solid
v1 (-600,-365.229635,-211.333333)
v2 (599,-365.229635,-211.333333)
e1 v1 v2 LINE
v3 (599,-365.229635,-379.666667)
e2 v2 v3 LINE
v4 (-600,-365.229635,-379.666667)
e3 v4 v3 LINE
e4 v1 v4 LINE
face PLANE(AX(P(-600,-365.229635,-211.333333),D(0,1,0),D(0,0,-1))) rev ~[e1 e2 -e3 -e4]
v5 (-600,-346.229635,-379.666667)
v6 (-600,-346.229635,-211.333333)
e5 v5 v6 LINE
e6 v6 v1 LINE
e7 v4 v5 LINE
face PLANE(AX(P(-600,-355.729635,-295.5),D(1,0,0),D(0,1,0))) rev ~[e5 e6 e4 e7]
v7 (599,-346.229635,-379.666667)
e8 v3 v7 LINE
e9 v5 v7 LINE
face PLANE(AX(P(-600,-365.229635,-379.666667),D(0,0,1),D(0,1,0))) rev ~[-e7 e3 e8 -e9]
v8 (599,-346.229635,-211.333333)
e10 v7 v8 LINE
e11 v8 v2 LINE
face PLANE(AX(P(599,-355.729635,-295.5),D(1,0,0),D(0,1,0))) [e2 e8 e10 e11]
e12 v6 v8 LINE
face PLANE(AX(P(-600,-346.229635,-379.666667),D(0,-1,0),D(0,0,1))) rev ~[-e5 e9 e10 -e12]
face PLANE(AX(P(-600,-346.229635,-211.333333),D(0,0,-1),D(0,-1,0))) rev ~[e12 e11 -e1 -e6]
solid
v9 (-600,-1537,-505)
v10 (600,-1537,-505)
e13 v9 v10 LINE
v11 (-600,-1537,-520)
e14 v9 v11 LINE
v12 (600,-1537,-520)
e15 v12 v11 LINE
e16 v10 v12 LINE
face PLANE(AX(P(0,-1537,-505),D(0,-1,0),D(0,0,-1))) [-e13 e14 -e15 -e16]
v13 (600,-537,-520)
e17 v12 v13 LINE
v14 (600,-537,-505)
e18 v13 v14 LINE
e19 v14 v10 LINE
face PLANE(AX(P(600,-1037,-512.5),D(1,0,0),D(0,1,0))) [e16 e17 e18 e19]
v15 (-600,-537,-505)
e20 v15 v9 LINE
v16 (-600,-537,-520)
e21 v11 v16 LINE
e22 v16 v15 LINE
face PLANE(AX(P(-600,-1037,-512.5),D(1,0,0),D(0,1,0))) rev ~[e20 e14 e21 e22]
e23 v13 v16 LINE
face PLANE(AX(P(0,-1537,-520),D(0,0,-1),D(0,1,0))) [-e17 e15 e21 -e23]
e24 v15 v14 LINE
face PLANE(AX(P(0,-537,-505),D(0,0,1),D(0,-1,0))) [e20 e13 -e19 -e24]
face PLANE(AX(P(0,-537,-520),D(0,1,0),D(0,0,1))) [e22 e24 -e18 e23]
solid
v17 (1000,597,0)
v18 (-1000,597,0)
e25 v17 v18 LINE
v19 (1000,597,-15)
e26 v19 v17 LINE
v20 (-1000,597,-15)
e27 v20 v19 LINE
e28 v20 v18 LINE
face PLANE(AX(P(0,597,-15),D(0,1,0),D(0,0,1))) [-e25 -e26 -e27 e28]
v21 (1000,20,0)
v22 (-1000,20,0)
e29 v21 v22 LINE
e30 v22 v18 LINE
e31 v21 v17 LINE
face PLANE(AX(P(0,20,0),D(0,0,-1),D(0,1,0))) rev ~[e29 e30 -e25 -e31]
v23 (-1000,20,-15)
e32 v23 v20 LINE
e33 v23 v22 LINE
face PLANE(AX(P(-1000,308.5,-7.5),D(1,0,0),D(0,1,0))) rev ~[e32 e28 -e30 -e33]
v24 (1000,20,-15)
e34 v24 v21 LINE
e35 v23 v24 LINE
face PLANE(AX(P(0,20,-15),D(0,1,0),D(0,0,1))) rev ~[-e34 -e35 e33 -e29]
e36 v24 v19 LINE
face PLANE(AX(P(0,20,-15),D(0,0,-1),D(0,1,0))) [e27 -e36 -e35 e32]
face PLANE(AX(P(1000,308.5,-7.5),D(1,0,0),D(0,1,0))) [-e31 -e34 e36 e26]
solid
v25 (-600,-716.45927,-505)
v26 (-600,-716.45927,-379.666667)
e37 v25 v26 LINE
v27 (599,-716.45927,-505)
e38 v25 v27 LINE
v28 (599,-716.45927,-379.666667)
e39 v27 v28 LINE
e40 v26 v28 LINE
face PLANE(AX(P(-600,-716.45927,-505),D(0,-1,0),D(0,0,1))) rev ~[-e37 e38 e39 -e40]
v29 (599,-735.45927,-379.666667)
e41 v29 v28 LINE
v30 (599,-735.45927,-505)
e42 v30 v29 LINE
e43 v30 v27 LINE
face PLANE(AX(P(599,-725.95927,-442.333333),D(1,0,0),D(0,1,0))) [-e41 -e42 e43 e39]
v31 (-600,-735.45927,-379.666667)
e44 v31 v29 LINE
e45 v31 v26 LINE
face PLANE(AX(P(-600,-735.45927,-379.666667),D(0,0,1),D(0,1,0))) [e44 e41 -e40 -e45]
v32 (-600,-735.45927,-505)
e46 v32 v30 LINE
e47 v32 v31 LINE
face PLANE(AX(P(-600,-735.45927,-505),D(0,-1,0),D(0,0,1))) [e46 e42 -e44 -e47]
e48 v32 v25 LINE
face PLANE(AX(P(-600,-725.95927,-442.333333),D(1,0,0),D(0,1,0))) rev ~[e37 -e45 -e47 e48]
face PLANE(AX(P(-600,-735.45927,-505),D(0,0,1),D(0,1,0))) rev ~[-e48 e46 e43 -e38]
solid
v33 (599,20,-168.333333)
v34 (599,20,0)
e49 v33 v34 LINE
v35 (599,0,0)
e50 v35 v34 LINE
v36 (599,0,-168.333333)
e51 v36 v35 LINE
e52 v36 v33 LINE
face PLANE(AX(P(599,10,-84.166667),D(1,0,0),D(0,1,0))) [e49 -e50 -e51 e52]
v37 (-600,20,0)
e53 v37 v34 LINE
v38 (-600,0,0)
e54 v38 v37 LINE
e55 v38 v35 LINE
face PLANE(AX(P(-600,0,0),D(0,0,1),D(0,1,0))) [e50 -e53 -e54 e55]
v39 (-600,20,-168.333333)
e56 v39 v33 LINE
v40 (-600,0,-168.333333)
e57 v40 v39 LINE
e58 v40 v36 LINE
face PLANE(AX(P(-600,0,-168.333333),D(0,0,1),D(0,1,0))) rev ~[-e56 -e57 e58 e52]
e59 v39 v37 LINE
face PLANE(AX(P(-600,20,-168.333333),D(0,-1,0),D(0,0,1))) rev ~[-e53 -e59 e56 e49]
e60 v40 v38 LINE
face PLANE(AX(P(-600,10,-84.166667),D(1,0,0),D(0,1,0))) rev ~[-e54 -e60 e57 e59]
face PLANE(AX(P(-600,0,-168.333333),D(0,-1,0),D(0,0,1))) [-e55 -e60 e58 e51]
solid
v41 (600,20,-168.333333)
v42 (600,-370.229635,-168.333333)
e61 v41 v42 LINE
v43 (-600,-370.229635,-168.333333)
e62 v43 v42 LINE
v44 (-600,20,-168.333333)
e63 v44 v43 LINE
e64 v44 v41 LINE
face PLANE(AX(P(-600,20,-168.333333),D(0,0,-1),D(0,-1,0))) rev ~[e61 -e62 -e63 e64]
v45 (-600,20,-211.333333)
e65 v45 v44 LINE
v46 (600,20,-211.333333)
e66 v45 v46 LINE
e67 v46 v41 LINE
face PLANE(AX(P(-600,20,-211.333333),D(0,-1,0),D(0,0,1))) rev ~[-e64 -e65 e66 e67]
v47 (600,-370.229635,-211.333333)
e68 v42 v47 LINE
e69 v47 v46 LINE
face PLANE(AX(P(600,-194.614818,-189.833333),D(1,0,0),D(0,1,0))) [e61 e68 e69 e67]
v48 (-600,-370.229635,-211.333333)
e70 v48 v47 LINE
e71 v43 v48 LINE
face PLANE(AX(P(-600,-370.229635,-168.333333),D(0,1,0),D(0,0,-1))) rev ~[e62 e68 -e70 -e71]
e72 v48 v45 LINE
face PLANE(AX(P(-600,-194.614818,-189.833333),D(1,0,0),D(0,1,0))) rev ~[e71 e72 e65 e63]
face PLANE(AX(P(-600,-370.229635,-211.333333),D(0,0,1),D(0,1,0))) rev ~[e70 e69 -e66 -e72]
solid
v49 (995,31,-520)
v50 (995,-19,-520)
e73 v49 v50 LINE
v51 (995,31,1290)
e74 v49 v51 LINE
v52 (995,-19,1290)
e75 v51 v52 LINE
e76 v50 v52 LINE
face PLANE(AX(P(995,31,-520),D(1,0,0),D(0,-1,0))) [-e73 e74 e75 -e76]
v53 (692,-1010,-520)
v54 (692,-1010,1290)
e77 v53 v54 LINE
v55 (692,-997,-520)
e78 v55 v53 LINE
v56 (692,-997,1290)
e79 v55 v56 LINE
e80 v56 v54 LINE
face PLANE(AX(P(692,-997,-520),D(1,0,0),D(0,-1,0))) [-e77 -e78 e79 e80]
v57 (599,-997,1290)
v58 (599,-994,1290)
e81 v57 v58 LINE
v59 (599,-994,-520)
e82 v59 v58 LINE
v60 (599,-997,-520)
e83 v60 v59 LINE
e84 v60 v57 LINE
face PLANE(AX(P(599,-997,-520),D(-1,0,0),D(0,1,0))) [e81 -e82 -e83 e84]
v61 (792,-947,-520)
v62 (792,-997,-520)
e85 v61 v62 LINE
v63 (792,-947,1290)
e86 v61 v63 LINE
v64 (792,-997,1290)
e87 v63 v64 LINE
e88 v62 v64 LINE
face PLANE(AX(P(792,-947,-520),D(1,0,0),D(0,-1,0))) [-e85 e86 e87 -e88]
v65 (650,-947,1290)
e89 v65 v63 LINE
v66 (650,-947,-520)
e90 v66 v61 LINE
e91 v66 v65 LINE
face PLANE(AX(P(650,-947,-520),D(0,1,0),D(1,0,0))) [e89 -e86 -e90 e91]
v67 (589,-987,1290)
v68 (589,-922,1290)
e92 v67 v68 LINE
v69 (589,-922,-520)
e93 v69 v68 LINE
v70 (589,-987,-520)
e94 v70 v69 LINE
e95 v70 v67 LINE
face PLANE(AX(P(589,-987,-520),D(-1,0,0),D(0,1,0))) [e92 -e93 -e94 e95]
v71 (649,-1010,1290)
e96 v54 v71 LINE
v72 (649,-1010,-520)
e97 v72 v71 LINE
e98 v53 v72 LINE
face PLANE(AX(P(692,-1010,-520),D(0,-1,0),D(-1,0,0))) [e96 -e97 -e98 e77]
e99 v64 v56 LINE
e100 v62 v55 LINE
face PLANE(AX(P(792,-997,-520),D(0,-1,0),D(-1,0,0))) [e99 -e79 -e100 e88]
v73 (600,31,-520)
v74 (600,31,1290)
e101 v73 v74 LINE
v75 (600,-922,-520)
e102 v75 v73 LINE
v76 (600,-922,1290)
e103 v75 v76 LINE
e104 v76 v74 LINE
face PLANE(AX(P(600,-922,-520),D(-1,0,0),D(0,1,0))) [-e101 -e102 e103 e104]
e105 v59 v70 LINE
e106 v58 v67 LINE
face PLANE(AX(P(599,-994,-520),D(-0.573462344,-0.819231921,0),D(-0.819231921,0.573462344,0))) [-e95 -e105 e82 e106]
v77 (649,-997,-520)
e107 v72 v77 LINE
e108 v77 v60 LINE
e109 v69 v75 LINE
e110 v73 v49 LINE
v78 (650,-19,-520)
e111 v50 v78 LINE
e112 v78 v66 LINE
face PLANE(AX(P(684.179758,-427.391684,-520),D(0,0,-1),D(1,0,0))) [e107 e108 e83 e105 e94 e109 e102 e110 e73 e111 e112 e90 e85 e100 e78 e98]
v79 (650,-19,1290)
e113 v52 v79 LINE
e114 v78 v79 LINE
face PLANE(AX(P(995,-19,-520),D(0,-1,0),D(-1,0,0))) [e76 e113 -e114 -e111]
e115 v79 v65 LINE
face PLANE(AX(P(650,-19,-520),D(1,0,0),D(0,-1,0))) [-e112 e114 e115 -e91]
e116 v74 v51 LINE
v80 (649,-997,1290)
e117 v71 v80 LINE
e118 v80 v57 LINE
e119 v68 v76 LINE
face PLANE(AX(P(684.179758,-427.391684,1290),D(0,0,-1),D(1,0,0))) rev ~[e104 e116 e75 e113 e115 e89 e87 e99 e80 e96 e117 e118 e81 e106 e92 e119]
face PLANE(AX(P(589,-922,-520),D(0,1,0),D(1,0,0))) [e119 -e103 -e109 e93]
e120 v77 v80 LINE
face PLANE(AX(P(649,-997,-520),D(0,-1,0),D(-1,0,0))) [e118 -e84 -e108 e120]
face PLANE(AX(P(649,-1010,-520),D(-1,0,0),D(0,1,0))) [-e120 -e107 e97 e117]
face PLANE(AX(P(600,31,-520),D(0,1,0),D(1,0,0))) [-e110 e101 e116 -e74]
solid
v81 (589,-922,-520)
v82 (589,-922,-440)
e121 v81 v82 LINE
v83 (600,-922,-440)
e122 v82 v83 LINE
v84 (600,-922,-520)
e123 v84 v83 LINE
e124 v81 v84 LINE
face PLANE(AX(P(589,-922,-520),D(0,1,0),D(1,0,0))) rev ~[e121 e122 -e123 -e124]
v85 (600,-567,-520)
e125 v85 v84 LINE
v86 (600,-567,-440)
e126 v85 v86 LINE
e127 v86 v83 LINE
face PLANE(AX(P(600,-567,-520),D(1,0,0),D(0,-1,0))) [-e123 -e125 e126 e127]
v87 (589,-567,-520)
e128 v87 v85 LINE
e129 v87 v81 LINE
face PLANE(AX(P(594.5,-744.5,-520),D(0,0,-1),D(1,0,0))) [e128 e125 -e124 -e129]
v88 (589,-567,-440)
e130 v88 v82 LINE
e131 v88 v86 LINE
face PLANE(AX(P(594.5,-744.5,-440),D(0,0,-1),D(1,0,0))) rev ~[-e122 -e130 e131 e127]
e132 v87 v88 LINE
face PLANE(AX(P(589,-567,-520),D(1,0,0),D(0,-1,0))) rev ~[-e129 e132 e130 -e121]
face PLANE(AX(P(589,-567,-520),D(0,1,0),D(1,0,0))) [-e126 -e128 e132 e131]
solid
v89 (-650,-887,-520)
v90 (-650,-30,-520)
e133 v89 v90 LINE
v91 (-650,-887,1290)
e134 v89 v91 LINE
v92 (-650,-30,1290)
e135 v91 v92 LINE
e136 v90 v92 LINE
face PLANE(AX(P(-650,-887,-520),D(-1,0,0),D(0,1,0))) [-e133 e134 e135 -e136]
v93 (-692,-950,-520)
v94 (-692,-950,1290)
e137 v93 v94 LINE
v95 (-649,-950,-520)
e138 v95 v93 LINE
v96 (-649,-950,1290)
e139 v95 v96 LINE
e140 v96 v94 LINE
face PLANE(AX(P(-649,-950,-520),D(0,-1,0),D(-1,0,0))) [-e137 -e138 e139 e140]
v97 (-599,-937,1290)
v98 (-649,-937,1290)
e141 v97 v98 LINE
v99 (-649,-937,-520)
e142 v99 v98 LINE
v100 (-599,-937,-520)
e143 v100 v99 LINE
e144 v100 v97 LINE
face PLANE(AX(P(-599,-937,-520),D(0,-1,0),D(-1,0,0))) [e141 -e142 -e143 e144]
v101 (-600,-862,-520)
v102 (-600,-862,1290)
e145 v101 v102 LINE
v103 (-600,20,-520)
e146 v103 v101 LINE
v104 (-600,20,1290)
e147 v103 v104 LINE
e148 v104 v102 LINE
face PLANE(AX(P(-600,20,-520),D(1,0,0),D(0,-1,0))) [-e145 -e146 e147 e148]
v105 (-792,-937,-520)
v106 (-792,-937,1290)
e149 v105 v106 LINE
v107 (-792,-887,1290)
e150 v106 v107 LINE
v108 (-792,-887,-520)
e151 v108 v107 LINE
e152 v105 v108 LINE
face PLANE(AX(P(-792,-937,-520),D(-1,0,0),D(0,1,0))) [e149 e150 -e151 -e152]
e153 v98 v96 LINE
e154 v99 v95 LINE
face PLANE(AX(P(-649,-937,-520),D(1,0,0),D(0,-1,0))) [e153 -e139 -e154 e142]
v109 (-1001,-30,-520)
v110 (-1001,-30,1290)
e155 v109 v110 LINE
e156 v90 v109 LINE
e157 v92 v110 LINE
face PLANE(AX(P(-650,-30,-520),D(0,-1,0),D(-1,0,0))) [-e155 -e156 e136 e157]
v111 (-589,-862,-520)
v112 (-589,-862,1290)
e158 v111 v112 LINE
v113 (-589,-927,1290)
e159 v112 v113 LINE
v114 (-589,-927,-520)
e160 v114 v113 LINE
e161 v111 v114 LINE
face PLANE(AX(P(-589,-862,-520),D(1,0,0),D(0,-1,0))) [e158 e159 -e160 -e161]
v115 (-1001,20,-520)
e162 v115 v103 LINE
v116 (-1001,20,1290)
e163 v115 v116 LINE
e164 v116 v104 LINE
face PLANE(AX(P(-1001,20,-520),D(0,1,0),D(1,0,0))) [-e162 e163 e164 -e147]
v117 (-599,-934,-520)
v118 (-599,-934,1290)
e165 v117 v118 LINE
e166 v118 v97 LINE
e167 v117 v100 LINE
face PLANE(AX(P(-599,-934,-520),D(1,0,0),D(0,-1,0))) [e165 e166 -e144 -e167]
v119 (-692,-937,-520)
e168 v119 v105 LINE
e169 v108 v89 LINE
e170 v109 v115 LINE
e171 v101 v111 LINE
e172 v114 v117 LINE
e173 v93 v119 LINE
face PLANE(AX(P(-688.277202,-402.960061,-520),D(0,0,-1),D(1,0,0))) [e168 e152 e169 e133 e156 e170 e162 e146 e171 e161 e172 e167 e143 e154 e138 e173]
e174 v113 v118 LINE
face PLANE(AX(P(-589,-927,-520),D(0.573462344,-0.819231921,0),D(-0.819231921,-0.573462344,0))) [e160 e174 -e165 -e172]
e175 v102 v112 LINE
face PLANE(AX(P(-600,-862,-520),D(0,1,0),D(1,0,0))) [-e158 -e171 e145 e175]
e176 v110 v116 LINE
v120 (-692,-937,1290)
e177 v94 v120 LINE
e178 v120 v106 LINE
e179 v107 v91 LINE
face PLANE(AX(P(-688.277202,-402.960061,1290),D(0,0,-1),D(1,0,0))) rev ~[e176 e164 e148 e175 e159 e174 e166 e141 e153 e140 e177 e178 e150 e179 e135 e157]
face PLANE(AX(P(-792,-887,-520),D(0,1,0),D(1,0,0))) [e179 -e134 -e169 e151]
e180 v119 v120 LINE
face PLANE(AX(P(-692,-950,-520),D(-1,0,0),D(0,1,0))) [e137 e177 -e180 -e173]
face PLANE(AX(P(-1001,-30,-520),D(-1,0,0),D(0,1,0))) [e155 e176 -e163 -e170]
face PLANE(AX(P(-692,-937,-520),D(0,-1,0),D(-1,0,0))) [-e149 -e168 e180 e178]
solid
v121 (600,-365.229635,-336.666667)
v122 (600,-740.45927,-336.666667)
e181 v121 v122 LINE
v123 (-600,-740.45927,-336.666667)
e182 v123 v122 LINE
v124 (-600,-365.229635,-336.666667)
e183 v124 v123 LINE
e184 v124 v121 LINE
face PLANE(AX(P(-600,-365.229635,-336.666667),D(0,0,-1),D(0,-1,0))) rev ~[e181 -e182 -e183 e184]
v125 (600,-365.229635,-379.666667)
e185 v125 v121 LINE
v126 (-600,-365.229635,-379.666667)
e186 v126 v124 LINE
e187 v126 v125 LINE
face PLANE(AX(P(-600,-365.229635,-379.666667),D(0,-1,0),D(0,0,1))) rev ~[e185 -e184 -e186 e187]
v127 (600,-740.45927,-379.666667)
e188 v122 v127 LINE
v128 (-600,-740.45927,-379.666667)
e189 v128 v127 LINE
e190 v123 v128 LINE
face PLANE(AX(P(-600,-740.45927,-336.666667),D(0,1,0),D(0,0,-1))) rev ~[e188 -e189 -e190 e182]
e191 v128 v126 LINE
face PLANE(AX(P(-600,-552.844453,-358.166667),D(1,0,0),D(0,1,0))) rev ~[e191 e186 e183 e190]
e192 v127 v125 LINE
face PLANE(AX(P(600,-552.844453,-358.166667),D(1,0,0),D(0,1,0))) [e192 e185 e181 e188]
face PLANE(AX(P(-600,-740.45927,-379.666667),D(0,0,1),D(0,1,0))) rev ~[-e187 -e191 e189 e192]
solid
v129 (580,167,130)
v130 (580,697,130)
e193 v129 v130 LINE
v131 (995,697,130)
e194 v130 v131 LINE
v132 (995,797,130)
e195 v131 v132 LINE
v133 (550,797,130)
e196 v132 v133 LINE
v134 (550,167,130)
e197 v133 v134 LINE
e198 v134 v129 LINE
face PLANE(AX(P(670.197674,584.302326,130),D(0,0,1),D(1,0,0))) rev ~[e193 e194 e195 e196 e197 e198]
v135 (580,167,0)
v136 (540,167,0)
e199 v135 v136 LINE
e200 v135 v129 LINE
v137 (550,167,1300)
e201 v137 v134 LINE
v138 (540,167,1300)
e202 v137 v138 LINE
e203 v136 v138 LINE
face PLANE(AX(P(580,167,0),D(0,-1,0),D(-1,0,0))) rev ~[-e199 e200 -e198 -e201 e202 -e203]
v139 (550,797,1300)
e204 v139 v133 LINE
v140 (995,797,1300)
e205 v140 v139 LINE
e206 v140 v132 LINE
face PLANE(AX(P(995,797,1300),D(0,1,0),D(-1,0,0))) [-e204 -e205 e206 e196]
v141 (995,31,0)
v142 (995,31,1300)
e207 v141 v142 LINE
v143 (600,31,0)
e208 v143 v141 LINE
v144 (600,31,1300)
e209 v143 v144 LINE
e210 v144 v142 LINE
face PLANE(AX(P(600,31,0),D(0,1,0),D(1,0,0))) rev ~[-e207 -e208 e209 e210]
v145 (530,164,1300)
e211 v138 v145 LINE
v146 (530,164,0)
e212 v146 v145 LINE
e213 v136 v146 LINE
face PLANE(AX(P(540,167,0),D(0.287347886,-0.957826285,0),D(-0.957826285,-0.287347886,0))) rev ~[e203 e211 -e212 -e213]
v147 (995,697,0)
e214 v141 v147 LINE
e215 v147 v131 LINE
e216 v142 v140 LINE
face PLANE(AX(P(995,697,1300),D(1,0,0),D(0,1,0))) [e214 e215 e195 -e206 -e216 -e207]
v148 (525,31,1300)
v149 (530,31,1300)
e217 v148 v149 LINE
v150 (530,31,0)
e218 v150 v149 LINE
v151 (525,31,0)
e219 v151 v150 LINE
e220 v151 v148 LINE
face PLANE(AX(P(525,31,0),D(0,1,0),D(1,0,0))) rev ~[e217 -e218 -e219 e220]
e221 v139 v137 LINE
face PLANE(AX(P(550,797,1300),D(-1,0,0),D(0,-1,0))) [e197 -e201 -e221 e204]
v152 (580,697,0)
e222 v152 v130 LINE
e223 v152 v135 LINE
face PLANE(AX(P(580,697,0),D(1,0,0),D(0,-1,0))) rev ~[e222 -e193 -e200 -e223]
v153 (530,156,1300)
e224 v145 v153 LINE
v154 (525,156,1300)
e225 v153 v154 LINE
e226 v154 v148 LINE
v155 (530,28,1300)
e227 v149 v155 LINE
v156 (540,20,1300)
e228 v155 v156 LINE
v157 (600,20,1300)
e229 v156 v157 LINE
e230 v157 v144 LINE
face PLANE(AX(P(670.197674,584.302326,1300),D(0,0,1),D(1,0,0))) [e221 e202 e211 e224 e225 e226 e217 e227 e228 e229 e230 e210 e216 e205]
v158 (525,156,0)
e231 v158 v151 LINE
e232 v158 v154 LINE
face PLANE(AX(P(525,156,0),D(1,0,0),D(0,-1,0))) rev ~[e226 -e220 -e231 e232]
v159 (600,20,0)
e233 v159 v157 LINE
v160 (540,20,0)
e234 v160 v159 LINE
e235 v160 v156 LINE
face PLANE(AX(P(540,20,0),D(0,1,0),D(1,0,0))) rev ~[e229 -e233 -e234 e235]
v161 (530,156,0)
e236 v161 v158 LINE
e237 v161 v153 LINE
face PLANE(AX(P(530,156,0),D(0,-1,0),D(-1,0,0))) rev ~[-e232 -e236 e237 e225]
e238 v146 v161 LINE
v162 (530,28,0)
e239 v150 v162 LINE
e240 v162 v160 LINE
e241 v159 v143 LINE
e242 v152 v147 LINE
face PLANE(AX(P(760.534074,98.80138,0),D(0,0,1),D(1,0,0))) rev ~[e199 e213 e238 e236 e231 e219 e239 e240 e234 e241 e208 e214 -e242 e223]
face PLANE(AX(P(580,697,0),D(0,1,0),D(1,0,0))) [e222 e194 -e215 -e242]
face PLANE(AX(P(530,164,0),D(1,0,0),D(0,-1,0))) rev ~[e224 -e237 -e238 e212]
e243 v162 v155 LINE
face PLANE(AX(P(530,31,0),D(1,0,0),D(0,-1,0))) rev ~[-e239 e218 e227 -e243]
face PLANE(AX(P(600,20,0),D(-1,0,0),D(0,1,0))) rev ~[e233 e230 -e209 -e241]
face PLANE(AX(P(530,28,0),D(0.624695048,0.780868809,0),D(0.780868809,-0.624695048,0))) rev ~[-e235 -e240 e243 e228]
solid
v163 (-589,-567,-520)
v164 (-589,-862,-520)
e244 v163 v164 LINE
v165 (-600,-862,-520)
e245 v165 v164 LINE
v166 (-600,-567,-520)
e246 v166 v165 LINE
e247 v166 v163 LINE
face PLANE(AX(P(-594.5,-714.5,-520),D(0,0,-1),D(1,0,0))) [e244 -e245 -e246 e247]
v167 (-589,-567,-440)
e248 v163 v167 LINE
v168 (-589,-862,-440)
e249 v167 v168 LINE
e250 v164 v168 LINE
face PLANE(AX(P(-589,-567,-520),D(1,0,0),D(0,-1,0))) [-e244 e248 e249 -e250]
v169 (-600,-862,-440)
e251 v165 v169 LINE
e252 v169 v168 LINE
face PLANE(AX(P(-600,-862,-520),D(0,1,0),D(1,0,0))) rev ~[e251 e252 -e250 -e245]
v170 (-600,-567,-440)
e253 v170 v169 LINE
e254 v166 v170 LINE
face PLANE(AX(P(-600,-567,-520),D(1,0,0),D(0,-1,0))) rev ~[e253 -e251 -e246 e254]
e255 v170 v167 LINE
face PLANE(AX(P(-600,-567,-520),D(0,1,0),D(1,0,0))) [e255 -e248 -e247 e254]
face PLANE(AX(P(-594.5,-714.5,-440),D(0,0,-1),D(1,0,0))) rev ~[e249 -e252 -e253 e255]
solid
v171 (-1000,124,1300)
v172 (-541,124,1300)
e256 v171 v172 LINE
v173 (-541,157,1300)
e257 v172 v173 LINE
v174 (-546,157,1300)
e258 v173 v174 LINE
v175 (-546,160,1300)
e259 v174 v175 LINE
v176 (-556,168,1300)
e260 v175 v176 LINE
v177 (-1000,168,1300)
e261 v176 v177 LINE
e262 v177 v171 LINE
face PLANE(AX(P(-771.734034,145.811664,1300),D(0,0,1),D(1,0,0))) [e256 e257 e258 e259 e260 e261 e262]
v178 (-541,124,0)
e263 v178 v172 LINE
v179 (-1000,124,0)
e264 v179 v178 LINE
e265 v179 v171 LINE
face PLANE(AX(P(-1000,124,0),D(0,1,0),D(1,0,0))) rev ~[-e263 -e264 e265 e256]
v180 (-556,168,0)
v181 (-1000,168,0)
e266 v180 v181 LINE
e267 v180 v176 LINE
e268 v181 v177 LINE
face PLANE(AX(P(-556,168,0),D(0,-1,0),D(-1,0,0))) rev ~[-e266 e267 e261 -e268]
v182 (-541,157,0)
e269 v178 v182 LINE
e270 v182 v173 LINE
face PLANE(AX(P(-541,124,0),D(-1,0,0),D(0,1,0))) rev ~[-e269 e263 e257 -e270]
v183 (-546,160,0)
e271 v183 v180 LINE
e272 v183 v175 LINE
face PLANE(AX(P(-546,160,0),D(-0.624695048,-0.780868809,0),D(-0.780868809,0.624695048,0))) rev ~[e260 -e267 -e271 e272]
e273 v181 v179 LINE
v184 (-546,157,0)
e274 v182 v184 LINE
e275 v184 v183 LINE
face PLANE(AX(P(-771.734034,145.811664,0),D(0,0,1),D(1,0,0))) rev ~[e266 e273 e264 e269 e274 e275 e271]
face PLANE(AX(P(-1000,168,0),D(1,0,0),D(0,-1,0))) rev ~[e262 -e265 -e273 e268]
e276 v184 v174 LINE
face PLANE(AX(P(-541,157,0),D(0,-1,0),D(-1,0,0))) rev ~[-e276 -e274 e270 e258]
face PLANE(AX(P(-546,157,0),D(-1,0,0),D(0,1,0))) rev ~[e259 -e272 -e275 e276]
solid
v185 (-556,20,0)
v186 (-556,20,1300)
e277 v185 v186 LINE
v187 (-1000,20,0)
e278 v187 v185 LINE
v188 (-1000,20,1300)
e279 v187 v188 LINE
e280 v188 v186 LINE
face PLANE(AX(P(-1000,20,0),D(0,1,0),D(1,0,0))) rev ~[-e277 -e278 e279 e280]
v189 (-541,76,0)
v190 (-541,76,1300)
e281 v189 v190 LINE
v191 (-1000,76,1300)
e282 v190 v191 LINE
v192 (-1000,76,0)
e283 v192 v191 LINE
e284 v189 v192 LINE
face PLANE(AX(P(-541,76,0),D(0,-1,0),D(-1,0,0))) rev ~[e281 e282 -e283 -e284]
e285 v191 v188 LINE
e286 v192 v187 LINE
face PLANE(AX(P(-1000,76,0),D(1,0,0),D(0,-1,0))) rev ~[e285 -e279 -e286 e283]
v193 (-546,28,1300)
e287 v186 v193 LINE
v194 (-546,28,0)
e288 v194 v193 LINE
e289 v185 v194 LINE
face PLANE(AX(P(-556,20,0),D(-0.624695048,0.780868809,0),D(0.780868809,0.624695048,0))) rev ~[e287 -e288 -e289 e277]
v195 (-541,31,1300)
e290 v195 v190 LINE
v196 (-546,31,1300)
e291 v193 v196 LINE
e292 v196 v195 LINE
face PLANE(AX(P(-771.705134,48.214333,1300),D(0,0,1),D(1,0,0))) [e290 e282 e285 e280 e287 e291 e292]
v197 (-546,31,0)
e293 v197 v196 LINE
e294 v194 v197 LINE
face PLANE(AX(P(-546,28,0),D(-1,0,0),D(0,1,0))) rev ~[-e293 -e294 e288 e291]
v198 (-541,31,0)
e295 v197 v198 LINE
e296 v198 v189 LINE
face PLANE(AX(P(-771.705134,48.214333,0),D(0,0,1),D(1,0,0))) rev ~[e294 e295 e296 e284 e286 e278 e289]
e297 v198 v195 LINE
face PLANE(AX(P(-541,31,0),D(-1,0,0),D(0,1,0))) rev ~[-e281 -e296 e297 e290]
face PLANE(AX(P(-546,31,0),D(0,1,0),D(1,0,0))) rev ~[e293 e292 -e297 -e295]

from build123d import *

# Parameters (mm, degrees)
F1_DEPTH  = 600
F0_W      = 577
F0_H      = 15
F2_DEPTH  = 1000
F4_DEPTH  = 1300
F3_W      = 415
F3_H      = 430
F3_H_2    = 100
F6_DEPTH  = 1170
F9_DEPTH  = 1810
F8_W      = 11
F8_H      = 355
F10_DEPTH = 80
F8_H_2    = 295
F12_DEPTH = 1200
F11_W     = 20
F11_H     = 168.3333333333
F14_DEPTH = 1199
F11_W_2   = 19
F11_H_2   = 125.3333333333


with BuildPart() as f1:
    # F0 (on Right) → F1 (new body, symmetric)
    with BuildSketch(Plane.YZ):
        Polygon((-537, -520), (-537, -505), (-557, -505), (-1537, -505), (-1537, -520), align=None)
    extrude(amount=F1_DEPTH, both=True)


with BuildPart() as f2:
    # F0 (on Right) → F2 (new body, symmetric)
    with BuildSketch(Plane.YZ):
        with Locations((308.5, -7.5)):
            Rectangle(F0_W, F0_H)
    extrude(amount=F2_DEPTH, both=True)


with BuildPart() as f4:
    # F3 (on face) → F4 (new body)
    with BuildSketch(Plane.XY):
        Polygon((-600, 20), (-556, 20), (-546, 28), (-546, 31), (-541, 31), (-541, 76), (-1000, 76), (-1000, 20), align=None)
    extrude(amount=F4_DEPTH)


with BuildPart() as f4b:
    # F3 (on face) → F4, piece 2 (new body)
    with BuildSketch(Plane.XY):
        Polygon((-1000, 168), (-1000, 124), (-541, 124), (-541, 157), (-546, 157), (-546, 160), (-556, 168), (-600, 168), align=None)
    extrude(amount=F4_DEPTH)


with BuildPart() as f4c:
    # F3 (on face) → F4, piece 3 (new body)
    with BuildSketch(Plane.XY):
        Polygon((530, 31), (600, 31), (995, 31), (995, 167), (580, 167), (540, 167), (530, 164), (530, 156), (525, 156), (525, 31), align=None)
        with Locations((787.5, 382)):
            Rectangle(F3_W, F3_H)
        with Locations((787.5, 647)):
            Rectangle(F3_W, F3_H_2)
        Polygon((540, 20), (600, 20), (600, 31), (530, 31), (530, 28), align=None)
    extrude(amount=F4_DEPTH)

    # F5 (on face) → F6 (join)
    with BuildSketch(Plane.XY.offset(1300)):
        Polygon((550, 797), (550, 167), (580, 167), (580, 697), (995, 697), (995, 797), align=None)
    extrude(amount=-F6_DEPTH)


with BuildPart() as f9:
    # F8 (on offset) → F9 (new body)
    with BuildSketch(Plane(origin=(0, 0, -520), x_dir=(1, 0, 0), z_dir=(0, 0, -1))):
        Polygon((600, -31), (995, -31), (995, 19), (650, 19), (650, 947), (792, 947), (792, 997), (692, 997), (692, 1010), (649, 1010), (649, 997), (599, 997), (599, 994), (589, 987), (589, 922), (600, 922), (600, 567), align=None)
    extrude(amount=-F9_DEPTH)


with BuildPart() as f9b:
    # F8 (on offset) → F9, piece 2 (new body)
    with BuildSketch(Plane(origin=(0, 0, -520), x_dir=(1, 0, 0), z_dir=(0, 0, -1))):
        Polygon((-1001, 30), (-1001, -20), (-600, -20), (-600, 567), (-600, 862), (-589, 862), (-589, 927), (-599, 934), (-599, 937), (-649, 937), (-649, 950), (-692, 950), (-692, 937), (-792, 937), (-792, 887), (-650, 887), (-650, 30), align=None)
    extrude(amount=-F9_DEPTH)


with BuildPart() as f10:
    # F8 (on offset) → F10 (new body)
    with BuildSketch(Plane(origin=(0, 0, -520), x_dir=(1, 0, 0), z_dir=(0, 0, -1))):
        with Locations((594.5, 744.5)):
            Rectangle(F8_W, F8_H)
    extrude(amount=-F10_DEPTH)


with BuildPart() as f10b:
    # F8 (on offset) → F10, piece 2 (new body)
    with BuildSketch(Plane(origin=(0, 0, -520), x_dir=(1, 0, 0), z_dir=(0, 0, -1))):
        with Locations((-594.5, 714.5)):
            Rectangle(F8_W, F8_H_2)
    extrude(amount=-F10_DEPTH)


with BuildPart() as f12:
    # F11 (on face) → F12 (new body)
    with BuildSketch(Plane.YZ.offset(-600)):
        Polygon((-370.2296350365, -211.3333333333), (-365.2296350365, -211.3333333333), (-346.2296350365, -211.3333333333), (-19, -211.3333333333), (-19, -168.3333333333), (-370.2296350365, -168.3333333333), align=None)
        Polygon((0, -168.3333333333), (-19, -168.3333333333), (-19, -211.3333333333), (20, -211.3333333333), (20, -168.3333333333), align=None)
    extrude(amount=F12_DEPTH)


with BuildPart() as f12b:
    # F11 (on face) → F12, piece 2 (new body)
    with BuildSketch(Plane.YZ.offset(-600)):
        Polygon((-735.4592700729, -379.6666666667), (-716.4592700729, -379.6666666667), (-365.2296350365, -379.6666666667), (-365.2296350365, -336.6666666667), (-740.4592700729, -336.6666666667), (-740.4592700729, -379.6666666667), align=None)
    extrude(amount=F12_DEPTH)

    # F13: cut F10b, F10
    add(f10b.part, mode=Mode.SUBTRACT)
    add(f10.part, mode=Mode.SUBTRACT)


with BuildPart() as f14:
    # F11 (on face) → F14 (new body)
    with BuildSketch(Plane.YZ.offset(-600)):
        with Locations((10, -84.1666666667)):
            Rectangle(F11_W, F11_H)
    extrude(amount=F14_DEPTH)


with BuildPart() as f14b:
    # F11 (on face) → F14, piece 2 (new body)
    with BuildSketch(Plane.YZ.offset(-600)):
        Polygon((-365.2296350365, -336.6666666667), (-365.2296350365, -379.6666666667), (-346.2296350365, -379.6666666667), (-346.2296350365, -211.3333333333), (-365.2296350365, -211.3333333333), align=None)
    extrude(amount=F14_DEPTH)


with BuildPart() as f14c:
    # F11 (on face) → F14, piece 3 (new body)
    with BuildSketch(Plane.YZ.offset(-600)):
        with Locations((-725.9592700729, -442.3333333333)):
            Rectangle(F11_W_2, F11_H_2)
    extrude(amount=F14_DEPTH)


solid = Compound([f1.part, f2.part, f4.part, f4b.part, f4c.part, f9.part, f9b.part, f10.part, f10b.part, f12.part, f12b.part, f14.part, f14b.part, f14c.part])
